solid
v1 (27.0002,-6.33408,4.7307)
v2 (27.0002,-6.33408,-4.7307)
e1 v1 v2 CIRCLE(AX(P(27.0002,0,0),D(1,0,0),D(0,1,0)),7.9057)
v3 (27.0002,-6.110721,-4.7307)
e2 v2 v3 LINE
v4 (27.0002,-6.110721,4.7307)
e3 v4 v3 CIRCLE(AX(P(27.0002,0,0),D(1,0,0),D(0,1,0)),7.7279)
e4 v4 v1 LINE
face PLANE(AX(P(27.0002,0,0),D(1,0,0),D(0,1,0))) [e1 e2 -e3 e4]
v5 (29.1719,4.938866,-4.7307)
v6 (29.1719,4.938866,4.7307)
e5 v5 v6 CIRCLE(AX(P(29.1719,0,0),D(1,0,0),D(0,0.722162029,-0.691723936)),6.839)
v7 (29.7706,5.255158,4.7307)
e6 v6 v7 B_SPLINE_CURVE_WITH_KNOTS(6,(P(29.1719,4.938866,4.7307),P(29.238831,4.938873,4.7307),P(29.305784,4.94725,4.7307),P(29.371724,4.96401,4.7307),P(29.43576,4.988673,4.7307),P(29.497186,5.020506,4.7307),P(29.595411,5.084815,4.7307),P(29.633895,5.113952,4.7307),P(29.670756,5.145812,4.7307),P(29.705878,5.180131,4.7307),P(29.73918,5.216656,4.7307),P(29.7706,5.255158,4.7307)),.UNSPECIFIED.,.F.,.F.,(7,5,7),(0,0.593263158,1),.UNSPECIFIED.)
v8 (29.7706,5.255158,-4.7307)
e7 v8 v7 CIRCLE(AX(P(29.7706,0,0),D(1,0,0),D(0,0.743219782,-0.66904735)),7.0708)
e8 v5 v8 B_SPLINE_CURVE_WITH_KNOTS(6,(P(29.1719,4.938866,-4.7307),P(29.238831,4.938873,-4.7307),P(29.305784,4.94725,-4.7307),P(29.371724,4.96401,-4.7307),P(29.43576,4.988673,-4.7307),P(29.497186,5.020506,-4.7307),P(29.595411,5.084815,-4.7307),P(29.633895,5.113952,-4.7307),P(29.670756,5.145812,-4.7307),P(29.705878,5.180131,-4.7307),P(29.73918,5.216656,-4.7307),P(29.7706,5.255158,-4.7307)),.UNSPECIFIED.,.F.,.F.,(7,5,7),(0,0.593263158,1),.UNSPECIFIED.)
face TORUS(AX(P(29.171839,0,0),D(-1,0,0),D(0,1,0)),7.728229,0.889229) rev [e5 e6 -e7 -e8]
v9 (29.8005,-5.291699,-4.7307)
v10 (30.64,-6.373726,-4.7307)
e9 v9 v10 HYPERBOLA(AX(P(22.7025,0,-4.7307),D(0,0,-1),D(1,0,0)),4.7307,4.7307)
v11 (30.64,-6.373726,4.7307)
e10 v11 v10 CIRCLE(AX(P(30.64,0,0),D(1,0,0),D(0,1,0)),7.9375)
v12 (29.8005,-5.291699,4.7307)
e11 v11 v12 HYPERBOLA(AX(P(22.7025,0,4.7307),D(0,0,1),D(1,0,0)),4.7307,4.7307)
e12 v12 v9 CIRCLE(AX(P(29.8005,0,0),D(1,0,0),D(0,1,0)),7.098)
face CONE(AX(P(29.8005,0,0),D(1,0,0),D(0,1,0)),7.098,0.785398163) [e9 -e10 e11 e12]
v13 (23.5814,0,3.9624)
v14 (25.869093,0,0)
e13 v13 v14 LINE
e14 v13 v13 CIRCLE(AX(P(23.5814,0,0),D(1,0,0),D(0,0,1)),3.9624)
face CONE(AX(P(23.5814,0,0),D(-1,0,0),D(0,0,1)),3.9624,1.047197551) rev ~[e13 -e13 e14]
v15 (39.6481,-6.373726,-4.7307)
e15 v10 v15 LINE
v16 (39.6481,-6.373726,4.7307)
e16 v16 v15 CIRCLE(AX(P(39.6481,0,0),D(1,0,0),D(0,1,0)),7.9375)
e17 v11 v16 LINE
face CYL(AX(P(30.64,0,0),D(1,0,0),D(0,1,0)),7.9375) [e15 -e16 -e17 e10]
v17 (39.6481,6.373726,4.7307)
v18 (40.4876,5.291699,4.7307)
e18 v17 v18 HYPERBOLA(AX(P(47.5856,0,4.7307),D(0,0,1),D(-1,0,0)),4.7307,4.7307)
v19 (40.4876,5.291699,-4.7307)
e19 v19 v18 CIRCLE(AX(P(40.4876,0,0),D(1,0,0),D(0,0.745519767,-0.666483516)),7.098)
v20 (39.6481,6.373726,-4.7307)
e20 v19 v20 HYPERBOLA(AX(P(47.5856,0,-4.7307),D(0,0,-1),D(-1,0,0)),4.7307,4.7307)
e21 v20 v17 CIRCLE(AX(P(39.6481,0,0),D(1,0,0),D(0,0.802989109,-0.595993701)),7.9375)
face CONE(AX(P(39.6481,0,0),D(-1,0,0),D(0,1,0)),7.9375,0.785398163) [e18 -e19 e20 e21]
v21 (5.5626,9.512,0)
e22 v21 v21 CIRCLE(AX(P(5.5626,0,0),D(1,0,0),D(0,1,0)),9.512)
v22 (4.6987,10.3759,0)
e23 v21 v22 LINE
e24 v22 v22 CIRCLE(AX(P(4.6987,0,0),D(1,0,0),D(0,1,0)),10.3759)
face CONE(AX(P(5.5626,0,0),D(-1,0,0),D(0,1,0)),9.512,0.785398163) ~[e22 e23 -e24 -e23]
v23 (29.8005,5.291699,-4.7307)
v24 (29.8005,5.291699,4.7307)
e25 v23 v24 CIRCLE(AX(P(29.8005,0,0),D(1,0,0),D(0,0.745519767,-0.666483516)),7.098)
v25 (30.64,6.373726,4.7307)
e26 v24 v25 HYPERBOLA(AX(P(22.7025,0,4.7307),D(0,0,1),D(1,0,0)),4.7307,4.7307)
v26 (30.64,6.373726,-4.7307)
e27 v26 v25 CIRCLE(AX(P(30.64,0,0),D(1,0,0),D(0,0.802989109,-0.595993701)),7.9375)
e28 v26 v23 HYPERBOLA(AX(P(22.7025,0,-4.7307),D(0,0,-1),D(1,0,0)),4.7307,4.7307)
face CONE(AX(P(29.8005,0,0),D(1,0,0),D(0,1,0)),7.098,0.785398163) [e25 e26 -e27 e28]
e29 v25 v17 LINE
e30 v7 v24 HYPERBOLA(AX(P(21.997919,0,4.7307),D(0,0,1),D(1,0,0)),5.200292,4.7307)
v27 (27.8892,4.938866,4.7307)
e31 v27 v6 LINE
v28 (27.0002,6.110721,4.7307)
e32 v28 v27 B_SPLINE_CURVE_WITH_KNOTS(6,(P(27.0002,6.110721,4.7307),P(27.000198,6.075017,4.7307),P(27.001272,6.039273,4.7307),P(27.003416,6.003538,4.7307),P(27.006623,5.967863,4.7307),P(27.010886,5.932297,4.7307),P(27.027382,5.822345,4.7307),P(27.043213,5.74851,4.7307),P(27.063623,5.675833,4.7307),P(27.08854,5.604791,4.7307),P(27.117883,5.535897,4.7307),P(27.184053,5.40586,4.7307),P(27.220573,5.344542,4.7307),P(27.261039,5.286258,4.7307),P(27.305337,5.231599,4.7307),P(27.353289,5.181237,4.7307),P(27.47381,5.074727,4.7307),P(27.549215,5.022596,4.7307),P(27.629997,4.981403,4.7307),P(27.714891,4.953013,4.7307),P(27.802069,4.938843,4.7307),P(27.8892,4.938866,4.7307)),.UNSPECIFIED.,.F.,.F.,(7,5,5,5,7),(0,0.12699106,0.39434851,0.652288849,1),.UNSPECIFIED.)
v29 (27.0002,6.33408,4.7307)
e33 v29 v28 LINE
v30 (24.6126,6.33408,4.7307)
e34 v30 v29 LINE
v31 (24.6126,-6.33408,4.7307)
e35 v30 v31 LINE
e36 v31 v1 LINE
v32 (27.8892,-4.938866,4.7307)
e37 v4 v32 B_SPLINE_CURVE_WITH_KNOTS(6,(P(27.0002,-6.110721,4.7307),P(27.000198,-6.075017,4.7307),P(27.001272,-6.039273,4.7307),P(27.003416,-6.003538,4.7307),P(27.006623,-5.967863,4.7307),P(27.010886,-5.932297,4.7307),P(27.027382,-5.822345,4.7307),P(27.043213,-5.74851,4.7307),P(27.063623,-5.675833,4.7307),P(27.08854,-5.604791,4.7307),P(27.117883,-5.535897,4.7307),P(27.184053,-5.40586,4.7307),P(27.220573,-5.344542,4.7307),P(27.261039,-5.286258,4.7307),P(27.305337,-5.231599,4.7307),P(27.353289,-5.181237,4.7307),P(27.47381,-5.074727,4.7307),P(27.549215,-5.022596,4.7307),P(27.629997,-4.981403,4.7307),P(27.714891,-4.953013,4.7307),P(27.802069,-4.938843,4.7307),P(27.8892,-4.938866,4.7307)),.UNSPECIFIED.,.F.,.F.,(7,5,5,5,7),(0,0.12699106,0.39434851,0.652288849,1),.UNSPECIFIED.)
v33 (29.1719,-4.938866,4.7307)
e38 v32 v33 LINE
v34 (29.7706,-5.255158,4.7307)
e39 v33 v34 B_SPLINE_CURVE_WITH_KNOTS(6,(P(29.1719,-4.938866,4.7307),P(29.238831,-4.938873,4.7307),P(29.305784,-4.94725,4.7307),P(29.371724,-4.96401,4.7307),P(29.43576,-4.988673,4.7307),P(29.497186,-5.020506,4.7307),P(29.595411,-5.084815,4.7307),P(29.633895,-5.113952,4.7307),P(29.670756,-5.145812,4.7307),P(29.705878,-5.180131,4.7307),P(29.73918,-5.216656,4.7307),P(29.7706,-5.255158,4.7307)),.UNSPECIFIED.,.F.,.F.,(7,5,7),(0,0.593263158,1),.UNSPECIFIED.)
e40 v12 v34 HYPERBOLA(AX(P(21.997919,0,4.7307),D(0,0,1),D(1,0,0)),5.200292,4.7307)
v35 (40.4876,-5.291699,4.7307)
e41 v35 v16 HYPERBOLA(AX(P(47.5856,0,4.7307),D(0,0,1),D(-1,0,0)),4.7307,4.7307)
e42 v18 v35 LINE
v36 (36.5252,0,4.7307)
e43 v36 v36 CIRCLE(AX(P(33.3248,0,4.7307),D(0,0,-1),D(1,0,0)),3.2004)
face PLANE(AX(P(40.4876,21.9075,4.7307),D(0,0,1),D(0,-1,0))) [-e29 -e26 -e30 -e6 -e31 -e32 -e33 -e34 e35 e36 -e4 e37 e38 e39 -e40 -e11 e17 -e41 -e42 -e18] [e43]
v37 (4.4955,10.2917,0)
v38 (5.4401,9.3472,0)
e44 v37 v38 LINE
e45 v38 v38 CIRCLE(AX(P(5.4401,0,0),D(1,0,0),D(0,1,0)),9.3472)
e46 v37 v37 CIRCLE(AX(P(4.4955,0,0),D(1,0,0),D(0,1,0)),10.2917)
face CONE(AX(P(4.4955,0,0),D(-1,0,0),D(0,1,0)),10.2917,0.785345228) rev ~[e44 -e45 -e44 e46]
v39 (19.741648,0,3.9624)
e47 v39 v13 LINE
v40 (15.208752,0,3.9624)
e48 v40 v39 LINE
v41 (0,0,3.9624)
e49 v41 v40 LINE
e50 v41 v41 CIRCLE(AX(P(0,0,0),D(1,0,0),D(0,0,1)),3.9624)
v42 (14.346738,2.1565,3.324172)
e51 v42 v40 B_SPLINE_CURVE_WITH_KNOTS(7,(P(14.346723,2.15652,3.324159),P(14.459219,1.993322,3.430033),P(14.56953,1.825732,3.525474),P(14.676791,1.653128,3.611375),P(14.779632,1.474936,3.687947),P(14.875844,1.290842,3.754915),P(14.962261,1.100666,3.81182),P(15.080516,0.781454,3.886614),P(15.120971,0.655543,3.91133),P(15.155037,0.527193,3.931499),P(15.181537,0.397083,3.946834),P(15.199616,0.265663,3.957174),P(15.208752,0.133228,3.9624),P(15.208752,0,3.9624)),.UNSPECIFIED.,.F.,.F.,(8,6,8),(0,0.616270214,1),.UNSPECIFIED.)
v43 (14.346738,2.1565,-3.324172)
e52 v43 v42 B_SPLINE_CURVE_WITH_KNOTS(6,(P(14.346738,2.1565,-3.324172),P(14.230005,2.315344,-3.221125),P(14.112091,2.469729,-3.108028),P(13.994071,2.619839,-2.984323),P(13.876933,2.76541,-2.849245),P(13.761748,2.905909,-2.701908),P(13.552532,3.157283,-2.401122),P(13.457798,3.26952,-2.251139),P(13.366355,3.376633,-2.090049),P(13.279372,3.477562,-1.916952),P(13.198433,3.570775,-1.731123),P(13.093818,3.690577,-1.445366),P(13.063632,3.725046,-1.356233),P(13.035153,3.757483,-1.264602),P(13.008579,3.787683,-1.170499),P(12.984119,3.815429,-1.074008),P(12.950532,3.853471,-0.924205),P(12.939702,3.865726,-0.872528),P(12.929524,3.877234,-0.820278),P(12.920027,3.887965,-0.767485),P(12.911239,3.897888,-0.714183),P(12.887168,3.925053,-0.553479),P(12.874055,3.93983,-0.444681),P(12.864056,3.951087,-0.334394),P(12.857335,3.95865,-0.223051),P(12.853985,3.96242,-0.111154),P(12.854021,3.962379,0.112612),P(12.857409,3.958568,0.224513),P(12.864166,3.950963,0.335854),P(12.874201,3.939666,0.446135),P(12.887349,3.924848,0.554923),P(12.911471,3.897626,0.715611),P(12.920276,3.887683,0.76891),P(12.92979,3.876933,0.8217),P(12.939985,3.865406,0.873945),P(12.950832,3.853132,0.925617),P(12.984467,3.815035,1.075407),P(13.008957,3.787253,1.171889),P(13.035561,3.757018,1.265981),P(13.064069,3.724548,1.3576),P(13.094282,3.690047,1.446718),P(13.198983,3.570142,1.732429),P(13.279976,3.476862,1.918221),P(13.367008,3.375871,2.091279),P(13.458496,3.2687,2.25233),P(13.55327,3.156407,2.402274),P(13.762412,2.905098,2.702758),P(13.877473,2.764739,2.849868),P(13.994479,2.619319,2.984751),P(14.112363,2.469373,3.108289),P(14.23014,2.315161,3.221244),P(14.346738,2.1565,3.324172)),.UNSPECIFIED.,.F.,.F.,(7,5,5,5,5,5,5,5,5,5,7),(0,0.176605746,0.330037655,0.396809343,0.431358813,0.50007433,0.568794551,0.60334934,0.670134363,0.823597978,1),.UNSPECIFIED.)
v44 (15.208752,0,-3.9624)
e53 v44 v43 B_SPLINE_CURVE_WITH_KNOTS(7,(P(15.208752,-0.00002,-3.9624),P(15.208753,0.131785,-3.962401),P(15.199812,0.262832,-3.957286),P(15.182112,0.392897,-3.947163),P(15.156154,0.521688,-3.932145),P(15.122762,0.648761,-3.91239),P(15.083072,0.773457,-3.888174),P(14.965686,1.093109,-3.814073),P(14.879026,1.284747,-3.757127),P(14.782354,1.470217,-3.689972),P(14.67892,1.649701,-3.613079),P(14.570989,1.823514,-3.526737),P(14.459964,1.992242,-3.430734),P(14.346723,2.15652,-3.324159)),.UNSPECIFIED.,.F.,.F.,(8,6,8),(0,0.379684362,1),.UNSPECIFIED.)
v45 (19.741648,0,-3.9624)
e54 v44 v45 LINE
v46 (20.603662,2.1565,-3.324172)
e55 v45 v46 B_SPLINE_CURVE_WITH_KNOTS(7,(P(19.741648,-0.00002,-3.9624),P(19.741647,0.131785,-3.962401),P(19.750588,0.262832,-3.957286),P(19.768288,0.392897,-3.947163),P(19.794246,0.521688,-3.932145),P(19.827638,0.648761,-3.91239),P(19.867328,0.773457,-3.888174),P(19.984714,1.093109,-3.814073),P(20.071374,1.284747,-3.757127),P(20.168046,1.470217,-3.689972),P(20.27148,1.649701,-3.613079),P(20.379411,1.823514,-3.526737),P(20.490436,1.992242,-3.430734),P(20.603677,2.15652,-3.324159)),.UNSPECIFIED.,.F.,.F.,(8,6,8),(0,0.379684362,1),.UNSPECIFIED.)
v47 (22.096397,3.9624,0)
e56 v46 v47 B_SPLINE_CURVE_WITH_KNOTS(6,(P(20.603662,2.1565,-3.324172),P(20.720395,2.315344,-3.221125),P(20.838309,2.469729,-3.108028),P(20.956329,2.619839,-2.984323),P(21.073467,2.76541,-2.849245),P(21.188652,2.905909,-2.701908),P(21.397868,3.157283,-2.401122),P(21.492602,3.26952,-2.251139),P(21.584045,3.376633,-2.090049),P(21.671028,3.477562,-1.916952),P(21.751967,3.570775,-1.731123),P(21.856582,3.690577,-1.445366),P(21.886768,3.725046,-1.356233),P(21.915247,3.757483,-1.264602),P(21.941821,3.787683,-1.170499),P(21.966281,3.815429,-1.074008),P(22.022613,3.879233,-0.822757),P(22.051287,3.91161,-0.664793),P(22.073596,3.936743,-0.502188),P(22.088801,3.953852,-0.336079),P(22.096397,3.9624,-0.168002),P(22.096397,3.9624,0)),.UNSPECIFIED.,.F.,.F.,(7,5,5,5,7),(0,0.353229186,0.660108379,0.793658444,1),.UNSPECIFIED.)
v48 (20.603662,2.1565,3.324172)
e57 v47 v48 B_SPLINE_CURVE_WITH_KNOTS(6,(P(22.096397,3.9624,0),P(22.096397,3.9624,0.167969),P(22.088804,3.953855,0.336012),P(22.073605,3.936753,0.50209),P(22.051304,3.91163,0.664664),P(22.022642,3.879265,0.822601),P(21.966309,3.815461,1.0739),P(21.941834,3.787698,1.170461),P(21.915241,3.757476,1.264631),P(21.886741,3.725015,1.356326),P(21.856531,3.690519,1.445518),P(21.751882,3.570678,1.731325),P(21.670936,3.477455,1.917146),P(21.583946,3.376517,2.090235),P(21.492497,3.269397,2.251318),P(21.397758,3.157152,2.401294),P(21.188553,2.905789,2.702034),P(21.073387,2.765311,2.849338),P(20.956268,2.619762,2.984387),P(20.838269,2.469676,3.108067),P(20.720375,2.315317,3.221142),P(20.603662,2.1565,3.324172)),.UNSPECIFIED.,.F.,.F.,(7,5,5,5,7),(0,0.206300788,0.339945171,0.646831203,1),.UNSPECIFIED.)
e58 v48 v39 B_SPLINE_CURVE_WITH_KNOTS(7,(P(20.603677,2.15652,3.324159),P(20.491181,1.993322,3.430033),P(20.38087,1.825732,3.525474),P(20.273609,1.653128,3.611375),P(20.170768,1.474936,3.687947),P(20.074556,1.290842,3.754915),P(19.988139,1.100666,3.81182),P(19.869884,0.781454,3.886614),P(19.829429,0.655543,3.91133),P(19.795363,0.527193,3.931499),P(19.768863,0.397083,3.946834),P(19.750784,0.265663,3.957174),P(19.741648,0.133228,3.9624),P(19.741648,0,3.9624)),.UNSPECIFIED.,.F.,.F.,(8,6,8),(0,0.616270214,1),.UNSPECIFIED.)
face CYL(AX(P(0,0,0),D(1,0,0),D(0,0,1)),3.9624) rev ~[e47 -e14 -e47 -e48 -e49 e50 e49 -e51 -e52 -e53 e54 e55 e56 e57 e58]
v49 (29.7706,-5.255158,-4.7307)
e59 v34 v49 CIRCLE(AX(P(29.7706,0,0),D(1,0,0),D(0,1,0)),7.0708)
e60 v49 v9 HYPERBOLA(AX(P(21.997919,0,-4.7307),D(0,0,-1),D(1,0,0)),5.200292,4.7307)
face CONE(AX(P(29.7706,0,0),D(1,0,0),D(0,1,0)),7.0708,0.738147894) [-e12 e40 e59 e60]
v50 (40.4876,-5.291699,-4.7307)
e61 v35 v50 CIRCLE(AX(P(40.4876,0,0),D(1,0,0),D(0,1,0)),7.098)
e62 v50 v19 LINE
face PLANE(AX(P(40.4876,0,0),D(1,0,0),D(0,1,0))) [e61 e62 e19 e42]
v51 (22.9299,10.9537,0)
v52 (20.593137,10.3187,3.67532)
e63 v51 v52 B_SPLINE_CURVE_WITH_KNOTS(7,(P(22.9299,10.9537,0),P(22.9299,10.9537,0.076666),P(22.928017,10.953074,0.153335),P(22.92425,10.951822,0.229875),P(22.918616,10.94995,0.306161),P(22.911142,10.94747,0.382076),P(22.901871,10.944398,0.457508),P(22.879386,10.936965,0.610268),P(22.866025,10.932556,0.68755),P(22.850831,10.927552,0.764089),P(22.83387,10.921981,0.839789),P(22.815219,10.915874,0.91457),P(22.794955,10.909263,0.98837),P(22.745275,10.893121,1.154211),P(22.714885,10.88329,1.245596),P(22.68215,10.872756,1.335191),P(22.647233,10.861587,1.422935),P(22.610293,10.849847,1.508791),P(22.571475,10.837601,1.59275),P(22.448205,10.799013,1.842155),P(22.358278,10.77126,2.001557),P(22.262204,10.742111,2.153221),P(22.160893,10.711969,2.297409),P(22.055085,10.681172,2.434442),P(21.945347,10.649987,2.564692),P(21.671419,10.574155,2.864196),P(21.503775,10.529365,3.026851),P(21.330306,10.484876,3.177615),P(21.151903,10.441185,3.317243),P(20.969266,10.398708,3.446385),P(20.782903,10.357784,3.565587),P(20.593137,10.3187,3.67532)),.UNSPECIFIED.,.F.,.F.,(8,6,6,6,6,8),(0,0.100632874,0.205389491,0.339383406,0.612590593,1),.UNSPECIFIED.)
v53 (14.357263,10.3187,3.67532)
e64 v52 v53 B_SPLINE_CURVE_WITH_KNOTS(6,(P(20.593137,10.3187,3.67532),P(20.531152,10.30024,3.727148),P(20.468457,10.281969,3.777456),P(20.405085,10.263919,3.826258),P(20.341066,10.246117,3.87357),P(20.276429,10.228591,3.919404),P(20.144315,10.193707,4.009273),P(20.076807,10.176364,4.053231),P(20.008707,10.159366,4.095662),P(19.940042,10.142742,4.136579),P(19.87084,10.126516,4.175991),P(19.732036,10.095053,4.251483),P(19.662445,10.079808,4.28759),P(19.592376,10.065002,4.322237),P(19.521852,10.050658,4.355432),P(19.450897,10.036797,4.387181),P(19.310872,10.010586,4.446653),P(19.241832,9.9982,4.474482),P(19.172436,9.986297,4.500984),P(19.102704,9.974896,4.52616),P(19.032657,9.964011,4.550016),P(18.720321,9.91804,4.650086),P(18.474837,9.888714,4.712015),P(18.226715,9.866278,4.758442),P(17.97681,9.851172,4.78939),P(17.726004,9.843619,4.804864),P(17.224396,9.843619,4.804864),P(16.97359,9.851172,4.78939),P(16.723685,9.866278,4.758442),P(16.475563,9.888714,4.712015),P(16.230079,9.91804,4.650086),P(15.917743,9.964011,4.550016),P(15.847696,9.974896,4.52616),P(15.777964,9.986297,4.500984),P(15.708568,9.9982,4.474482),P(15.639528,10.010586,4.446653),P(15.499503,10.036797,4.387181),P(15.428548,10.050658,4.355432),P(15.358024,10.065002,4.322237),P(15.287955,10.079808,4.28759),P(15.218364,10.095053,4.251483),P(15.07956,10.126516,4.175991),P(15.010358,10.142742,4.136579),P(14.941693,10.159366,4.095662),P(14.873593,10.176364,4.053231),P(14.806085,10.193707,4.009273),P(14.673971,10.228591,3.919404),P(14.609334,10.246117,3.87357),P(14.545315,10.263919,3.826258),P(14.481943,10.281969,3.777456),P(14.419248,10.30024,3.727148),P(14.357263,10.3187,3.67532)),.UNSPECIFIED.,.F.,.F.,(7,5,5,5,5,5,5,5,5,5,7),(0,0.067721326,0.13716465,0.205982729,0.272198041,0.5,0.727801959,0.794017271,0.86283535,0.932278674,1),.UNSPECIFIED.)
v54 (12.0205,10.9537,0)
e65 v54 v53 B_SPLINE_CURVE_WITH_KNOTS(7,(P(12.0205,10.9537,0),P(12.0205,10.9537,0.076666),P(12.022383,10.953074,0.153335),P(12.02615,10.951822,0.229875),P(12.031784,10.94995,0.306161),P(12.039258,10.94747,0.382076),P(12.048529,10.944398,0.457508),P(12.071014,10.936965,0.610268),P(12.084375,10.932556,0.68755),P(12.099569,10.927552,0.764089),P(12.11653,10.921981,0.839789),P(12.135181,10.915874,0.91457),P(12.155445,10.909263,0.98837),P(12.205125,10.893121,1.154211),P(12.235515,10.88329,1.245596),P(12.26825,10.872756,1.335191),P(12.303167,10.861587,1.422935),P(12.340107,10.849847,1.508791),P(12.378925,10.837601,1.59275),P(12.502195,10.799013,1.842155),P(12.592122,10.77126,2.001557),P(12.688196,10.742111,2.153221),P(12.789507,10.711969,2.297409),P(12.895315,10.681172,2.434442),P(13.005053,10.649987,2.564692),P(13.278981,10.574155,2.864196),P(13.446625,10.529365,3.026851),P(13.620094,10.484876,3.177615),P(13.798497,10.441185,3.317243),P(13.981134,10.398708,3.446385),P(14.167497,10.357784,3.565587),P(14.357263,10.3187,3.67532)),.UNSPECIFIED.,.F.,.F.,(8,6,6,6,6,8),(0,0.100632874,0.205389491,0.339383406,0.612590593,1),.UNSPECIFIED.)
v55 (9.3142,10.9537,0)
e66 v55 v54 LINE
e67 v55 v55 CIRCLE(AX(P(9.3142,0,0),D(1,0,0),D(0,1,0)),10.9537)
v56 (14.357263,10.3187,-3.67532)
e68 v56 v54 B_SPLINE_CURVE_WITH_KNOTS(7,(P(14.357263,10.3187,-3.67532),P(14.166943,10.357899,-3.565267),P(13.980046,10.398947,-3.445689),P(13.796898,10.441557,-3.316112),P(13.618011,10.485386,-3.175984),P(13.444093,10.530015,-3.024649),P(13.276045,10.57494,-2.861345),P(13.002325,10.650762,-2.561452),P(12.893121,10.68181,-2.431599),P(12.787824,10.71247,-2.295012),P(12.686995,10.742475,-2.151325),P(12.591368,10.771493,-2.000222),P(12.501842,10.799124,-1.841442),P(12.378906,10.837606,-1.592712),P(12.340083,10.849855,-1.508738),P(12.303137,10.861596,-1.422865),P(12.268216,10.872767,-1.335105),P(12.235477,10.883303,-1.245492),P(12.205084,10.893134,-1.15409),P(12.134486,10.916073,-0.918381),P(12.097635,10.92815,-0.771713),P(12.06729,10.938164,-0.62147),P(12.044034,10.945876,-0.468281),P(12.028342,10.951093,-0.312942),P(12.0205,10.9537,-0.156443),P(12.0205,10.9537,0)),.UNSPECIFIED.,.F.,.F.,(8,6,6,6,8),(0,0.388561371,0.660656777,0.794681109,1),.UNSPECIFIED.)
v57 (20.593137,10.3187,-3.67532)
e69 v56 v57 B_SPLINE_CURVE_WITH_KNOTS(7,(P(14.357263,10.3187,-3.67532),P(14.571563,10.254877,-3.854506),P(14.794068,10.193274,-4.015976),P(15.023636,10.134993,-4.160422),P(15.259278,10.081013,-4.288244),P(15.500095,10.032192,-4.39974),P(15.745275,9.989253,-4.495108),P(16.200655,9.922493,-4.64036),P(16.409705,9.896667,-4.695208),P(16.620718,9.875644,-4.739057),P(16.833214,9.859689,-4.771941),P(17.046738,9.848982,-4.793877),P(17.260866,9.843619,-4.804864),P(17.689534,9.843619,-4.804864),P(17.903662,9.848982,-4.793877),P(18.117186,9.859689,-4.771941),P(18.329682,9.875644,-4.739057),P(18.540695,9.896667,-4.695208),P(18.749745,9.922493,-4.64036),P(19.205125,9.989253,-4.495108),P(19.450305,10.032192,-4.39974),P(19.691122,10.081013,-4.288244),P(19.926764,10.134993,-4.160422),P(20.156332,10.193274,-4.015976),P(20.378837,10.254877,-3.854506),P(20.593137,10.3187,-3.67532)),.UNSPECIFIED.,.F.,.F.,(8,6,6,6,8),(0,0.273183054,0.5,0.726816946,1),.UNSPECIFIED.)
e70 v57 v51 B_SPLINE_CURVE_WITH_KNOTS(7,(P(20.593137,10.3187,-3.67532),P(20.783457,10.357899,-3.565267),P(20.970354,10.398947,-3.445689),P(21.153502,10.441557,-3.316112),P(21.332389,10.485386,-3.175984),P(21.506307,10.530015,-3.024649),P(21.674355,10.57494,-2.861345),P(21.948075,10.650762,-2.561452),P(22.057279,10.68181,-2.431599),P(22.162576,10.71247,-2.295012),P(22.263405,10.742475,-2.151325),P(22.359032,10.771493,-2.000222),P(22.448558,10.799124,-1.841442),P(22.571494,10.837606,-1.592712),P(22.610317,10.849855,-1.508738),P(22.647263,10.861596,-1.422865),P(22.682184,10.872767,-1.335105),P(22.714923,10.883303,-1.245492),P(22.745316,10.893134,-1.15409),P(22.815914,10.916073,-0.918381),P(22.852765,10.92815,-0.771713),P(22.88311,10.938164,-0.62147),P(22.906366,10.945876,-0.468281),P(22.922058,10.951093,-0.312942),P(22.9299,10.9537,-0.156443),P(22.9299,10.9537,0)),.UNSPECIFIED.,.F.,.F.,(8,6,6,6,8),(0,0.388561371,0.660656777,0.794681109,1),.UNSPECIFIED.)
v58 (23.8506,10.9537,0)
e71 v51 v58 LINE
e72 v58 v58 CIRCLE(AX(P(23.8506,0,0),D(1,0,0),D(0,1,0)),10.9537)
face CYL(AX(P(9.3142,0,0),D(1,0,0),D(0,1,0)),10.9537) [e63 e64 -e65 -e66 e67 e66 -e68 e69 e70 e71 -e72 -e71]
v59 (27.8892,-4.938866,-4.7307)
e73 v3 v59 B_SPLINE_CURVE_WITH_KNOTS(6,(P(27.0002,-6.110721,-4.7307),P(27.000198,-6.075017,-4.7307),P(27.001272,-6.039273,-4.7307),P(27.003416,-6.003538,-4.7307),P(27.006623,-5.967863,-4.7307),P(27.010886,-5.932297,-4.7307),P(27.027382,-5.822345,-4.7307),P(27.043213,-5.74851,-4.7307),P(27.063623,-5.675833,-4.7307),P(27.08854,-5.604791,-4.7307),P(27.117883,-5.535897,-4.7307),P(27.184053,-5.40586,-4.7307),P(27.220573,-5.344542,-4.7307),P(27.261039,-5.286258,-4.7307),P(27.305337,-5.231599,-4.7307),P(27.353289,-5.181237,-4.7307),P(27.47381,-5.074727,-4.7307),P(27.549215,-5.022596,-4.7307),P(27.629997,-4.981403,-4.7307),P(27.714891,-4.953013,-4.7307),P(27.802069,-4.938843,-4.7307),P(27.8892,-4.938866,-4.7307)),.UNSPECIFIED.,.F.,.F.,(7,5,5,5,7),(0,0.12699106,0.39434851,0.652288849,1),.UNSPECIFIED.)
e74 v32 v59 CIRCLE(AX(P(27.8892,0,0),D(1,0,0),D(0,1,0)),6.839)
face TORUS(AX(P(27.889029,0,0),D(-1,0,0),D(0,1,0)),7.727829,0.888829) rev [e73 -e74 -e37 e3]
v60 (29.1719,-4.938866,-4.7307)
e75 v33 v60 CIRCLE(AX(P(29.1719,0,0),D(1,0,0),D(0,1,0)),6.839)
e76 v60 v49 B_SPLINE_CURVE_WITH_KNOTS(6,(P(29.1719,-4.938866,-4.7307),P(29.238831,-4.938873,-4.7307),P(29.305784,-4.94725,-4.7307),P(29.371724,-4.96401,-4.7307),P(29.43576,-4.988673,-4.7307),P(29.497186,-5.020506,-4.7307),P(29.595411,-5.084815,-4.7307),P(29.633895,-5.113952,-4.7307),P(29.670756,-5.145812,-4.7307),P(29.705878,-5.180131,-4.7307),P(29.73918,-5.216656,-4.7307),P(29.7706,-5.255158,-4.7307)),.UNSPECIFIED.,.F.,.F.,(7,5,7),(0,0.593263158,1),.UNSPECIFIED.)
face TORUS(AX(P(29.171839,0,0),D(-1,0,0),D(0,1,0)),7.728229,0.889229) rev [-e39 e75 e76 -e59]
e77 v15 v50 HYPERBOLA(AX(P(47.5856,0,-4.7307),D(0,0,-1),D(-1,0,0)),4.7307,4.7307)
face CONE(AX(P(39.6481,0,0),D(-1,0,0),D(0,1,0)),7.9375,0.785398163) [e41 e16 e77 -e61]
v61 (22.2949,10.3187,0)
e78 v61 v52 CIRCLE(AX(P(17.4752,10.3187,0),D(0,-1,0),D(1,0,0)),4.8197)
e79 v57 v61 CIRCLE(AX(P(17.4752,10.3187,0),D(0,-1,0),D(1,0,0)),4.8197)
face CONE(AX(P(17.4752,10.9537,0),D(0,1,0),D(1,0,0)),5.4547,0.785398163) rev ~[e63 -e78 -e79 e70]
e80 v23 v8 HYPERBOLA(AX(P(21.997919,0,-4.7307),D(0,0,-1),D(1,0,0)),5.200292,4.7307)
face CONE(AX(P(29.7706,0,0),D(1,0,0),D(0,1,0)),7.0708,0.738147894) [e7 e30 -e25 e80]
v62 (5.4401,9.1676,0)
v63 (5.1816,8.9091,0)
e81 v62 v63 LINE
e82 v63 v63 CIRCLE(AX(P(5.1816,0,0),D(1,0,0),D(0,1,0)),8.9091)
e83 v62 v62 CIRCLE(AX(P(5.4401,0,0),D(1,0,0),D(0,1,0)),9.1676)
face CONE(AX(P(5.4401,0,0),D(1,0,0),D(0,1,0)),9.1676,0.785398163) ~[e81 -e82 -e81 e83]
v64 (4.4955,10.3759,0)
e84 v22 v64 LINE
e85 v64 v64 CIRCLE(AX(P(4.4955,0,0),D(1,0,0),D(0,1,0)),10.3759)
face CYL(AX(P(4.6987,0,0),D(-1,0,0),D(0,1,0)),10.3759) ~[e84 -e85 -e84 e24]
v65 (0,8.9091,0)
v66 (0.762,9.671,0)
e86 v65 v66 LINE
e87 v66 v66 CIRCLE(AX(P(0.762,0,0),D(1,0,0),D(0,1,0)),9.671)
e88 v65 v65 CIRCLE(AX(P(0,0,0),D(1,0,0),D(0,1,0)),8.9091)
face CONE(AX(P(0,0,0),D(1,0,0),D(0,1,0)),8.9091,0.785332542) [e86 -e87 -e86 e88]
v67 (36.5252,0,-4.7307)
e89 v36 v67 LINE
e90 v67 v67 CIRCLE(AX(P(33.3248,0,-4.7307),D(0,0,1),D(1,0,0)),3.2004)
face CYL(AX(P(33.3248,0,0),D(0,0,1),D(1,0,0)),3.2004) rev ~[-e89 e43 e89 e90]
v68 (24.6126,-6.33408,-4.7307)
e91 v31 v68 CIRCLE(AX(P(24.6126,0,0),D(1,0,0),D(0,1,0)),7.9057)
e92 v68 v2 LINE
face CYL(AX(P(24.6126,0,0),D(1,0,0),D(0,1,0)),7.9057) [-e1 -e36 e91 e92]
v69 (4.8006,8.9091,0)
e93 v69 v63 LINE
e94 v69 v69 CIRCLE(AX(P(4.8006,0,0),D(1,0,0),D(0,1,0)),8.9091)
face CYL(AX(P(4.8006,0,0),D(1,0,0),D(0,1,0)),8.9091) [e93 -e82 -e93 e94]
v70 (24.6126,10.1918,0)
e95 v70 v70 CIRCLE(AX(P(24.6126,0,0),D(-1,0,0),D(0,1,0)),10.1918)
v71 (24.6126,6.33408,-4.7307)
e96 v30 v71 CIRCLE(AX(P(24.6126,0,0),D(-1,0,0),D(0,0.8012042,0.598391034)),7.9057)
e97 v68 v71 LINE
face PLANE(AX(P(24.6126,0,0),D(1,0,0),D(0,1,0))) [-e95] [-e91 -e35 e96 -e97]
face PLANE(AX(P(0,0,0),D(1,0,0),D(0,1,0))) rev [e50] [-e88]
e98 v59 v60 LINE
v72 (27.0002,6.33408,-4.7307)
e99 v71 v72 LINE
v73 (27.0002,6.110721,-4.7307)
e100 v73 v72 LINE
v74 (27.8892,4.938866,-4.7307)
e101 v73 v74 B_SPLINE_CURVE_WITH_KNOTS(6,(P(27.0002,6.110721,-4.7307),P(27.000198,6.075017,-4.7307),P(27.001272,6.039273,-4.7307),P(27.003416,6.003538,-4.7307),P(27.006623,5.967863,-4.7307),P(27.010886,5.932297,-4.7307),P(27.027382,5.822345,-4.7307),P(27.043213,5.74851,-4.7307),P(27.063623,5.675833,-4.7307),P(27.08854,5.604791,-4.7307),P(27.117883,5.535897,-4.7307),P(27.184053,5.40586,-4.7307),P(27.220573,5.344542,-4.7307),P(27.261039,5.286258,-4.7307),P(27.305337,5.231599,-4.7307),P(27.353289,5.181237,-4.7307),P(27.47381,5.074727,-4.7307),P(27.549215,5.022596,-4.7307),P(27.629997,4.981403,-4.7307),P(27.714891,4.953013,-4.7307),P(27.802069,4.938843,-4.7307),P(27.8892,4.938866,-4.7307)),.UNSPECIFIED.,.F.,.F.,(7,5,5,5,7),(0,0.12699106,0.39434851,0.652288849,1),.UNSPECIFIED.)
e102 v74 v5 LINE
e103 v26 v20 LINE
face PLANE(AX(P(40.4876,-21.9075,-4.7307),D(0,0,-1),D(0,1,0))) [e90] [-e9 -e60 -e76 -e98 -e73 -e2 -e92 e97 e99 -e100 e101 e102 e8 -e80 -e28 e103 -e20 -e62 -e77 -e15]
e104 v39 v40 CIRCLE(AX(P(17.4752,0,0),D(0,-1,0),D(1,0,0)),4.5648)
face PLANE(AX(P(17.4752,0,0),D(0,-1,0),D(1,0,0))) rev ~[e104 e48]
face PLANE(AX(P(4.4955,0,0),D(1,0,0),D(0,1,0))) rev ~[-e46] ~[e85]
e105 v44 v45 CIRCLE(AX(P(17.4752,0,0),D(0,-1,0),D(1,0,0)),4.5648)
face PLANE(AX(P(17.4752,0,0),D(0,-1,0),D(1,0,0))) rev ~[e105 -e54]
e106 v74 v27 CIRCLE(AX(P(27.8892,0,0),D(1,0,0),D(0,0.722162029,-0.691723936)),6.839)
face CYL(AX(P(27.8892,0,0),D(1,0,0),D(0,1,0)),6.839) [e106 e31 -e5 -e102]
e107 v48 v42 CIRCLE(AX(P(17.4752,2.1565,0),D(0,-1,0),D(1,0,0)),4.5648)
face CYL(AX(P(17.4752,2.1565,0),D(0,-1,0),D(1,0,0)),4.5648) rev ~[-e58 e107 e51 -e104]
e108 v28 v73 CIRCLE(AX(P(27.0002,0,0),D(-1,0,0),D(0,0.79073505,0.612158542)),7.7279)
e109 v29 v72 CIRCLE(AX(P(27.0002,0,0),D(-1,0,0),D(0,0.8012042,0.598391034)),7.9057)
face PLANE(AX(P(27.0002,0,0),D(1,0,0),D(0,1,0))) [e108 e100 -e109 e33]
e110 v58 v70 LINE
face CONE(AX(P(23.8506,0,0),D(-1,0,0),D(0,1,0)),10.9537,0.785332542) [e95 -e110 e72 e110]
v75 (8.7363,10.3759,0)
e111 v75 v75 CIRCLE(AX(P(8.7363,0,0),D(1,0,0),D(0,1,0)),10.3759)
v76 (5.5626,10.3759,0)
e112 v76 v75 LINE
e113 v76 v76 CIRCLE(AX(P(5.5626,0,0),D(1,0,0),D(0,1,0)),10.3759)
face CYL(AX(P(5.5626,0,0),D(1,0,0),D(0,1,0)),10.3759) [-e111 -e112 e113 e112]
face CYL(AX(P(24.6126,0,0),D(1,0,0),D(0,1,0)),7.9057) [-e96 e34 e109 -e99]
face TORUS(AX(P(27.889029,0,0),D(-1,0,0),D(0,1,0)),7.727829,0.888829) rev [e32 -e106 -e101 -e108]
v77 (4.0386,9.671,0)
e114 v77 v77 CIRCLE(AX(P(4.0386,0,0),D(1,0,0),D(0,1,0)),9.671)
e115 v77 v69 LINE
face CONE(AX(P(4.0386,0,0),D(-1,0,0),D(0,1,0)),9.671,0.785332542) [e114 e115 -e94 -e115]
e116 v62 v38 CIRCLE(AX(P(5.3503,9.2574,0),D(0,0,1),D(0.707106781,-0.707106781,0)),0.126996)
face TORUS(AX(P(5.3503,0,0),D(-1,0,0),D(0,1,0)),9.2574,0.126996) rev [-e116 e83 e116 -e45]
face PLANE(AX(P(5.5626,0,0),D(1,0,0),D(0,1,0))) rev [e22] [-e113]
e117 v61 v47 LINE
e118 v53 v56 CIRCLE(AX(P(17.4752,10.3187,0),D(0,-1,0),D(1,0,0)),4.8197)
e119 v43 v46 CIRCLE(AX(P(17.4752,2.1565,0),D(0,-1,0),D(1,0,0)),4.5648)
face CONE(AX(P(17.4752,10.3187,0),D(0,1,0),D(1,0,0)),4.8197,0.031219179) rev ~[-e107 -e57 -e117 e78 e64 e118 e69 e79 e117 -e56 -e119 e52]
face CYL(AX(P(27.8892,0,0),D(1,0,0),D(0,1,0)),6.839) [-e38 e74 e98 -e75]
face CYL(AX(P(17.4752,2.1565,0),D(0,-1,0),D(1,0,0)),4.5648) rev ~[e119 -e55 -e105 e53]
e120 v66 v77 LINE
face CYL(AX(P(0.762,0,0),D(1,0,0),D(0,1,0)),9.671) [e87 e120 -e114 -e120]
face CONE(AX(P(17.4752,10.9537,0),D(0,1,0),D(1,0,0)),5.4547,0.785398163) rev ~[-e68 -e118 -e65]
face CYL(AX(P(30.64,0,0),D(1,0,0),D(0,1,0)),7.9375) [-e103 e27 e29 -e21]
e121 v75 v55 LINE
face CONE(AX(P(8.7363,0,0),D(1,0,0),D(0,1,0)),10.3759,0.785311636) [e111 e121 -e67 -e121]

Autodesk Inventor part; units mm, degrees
sketch "Sketch_8" plane through (0, 0, 0) normal (0, 0, 1) x (1, 0, 0)
  line L0 (24.6126, 0) -> (0, 0)
  line L1 (0, 0) -> (0, 8.9091)
  line L2 (0, 8.9091) -> (0.762, 9.671)
  line L3 (0.762, 9.671) -> (4.0386, 9.671)
  line L4 (4.0386, 9.671) -> (4.8006, 8.9091)
  line L5 (4.8006, 8.9091) -> (5.5626, 8.9091)
  line L6 (5.5626, 8.9091) -> (5.5626, 10.3759)
  line L7 (5.5626, 10.3759) -> (8.7363, 10.3759)
  line L8 (8.7363, 10.3759) -> (9.3142, 10.9537)
  line L9 (9.3142, 10.9537) -> (23.8506, 10.9537)
  line L10 (23.8506, 10.9537) -> (24.6126, 10.1918)
  line L11 (24.6126, 10.1918) -> (24.6126, 0)
  line L12 (24.6126, 0) -> (0, 0)
revolve "Revolution1" add sketch "Sketch_8" angle 360 about axis through (24.6126, 0, 0) along (1, 0, 0)
sketch "Sketch_15" plane through (0, 0, 0) normal (0, 0, 1) x (1, 0, 0)
  line L0 (40.4876, 0) -> (24.6126, 0)
  line L1 (24.6126, 0) -> (24.6126, 7.9057)
  line L2 (24.6126, 7.9057) -> (27.0002, 7.9057)
  line L3 (27.0002, 7.9057) -> (27.0002, 7.7279)
  arc A0 (27.0002, 7.7279) -> (27.8892, 6.839) centre (27.8892, 7.7279) ccw
  line L4 (27.8892, 6.839) -> (29.1719, 6.839)
  arc A1 (29.1719, 6.839) -> (29.7706, 7.0708) centre (29.1719, 7.7279) ccw
  line L5 (29.7706, 7.0708) -> (29.8005, 7.098)
  line L6 (29.8005, 7.098) -> (30.64, 7.9375)
  line L7 (30.64, 7.9375) -> (39.6481, 7.9375)
  line L8 (39.6481, 7.9375) -> (40.4876, 7.098)
  line L9 (40.4876, 7.098) -> (40.4876, 0)
  line L10 (40.4876, 0) -> (24.6126, 0)
revolve "Revolution2" add sketch "Sketch_15" angle 360 about axis through (40.4876, 0, 0) along (1, 0, 0)
thread "Thread1" size "5/8-18 UNF" class "2A" standard "ANSI Unified Screw Threads" full length
sketch "Sketch_9" plane through (40.4876, 0, 0) normal (1, 0, 0) x (0, 0, -1)
  line L0 (-21.9075, -43.815) -> (21.9075, -43.815)
  line L1 (21.9075, -43.815) -> (21.9075, 43.815)
  line L2 (21.9075, 43.815) -> (-21.9075, 43.815)
  line L3 (-21.9075, 43.815) -> (-21.9075, -43.815)
  line L4 (-4.7307, -21.9075) -> (4.7307, -21.9075)
  line L5 (4.7307, -21.9075) -> (4.7307, 21.9075)
  line L6 (4.7307, 21.9075) -> (-4.7307, 21.9075)
  line L7 (-4.7307, 21.9075) -> (-4.7307, -21.9075)
extrude "Extrusion1" cut sketch "Sketch_9" against normal blind 15.875
sketch "Sketch4" plane through (0, 0, 0) normal (-1, 0, 0) x (0, 0, 1)
  point P0 (0, 0)
hole "Hole1" at (0, 0, 0) direction (1, 0, 0) diameter 7.9248 depth 23.5814 tip angle 120
sketch "Sketch_47" plane through (0, 0, 0) normal (0, 0, 1) x (1, 0, 0)
  line L0 (17.4752, 0) -> (17.4752, 10.9537)
  line L1 (17.4752, 10.9537) -> (22.9299, 10.9537)
  line L2 (22.9299, 10.9537) -> (22.2949, 10.3187)
  line L3 (22.2949, 10.3187) -> (22.04, 2.1565)
  line L4 (22.04, 2.1565) -> (22.04, 0)
  line L5 (22.04, 0) -> (17.4752, 0)
  line L6 (17.4752, 0) -> (17.4752, 10.9537)
revolve "Revolution3" cut sketch "Sketch_47" angle 360 about axis through (17.4752, 0, 0) along (0, -1, 0)
thread "Thread2" size "1/8" designation "1/8 - 27 NPT" standard "NPT" length 7.0392
sketch "Sketch_24" plane through (0, 0, 0) normal (0, 0, 1) x (1, 0, 0)
  line L0 (5.5626, 0) -> (4.8006, 0)
  line L1 (4.4955, 10.3759) -> (4.4955, 10.2917)
  line L2 (4.4955, 10.2917) -> (5.4401, 9.3472)
  arc A0 (5.4401, 9.1676) -> (5.4401, 9.3472) centre (5.3503, 9.2574) ccw
  line L3 (5.4401, 9.1676) -> (5.1816, 8.9091)
  line L4 (5.1816, 8.9091) -> (4.8006, 8.9091)
  line L5 (4.8006, 8.9091) -> (4.8006, 8.655)
  line L6 (4.8006, 8.655) -> (5.5626, 8.655)
  line L7 (5.5626, 8.655) -> (5.5626, 9.512)
  line L8 (5.5626, 9.512) -> (4.6987, 10.3759)
  line L9 (4.6987, 10.3759) -> (4.4955, 10.3759)
revolve "Revolution4" add sketch "Sketch_24" angle 360 about axis through (5.5626, 0, 0) along (1, 0, 0)
sketch "Sketch_43" plane through (0, 0, 0) normal (0, 0, 1) x (1, 0, 0)
  circle A0 centre (33.3248, 0) radius 3.2004
extrude "Extrusion2" cut sketch "Sketch_43" along normal mid plane 14.1922
ref_plane "1_XY" through (27.0002, 0, 0) normal (1, 0, 0) x (0, 0, -1)
ref_plane "1_YZ" through (27.0002, 0, 0) normal (0, 0, -1) x (0, 1, 0)
ref_plane "1_ZX" through (27.0002, 0, 0) normal (0, 1, 0) x (1, 0, 0)
ref_plane "c1_XY" through (24.6126, 7.9057, 0) normal (0, 0, 1) x (1, 0, 0)
ref_plane "c1_YZ" through (24.6126, 7.9057, 0) normal (1, 0, 0) x (0, 1, 0)
ref_plane "c1_ZX" through (24.6126, 7.9057, 0) normal (0, 1, 0) x (0, 0, 1)
ref_plane "c2_XY" through (24.6126, -7.9057, 0) normal (0, 0, 1) x (1, 0, 0)
ref_plane "c2_YZ" through (24.6126, -7.9057, 0) normal (1, 0, 0) x (0, 1, 0)
ref_plane "c2_ZX" through (24.6126, -7.9057, 0) normal (0, 1, 0) x (0, 0, 1)
ref_plane "cc1_XY" through (24.6126, 0, 0) normal (0, 0, 1) x (1, 0, 0)
ref_plane "cc1_YZ" through (24.6126, 0, 0) normal (1, 0, 0) x (0, 1, 0)
ref_plane "cc1_ZX" through (24.6126, 0, 0) normal (0, 1, 0) x (0, 0, 1)
ref_plane "cc2_XY" through (27.0002, 0, 0) normal (0, 0, 1) x (1, 0, 0)
ref_plane "cc2_YZ" through (27.0002, 0, 0) normal (1, 0, 0) x (0, 1, 0)
ref_plane "cc2_ZX" through (27.0002, 0, 0) normal (0, 1, 0) x (0, 0, 1)
ref_plane "lovra1_XY" through (35.7124, 0, 0) normal (1, 0, 0) x (0, 0, -1)
ref_plane "lovra1_YZ" through (35.7124, 0, 0) normal (0, 0, -1) x (0, 1, 0)
ref_plane "lovra1_ZX" through (35.7124, 0, 0) normal (0, 1, 0) x (1, 0, 0)
ref_plane "lovra2_XY" through (35.7124, 7.874, 0) normal (1, 0, 0) x (0, 0, -1)
ref_plane "lovra2_YZ" through (35.7124, 7.874, 0) normal (0, 0, -1) x (0, 1, 0)
ref_plane "lovra2_ZX" through (35.7124, 7.874, 0) normal (0, 1, 0) x (1, 0, 0)
ref_plane "lovra21_XY" through (0, 0, 5.2705) normal (1, 0, 0) x (0, 0, -1)
ref_plane "lovra21_YZ" through (0, 0, 5.2705) normal (0, 0, -1) x (0, 1, 0)
ref_plane "lovra21_ZX" through (0, 0, 5.2705) normal (0, 1, 0) x (1, 0, 0)
ref_plane "lovra22_XY" through (0, 0, -5.2705) normal (1, 0, 0) x (0, 0, -1)
ref_plane "lovra22_YZ" through (0, 0, -5.2705) normal (0, 0, -1) x (0, 1, 0)
ref_plane "lovra22_ZX" through (0, 0, -5.2705) normal (0, 1, 0) x (1, 0, 0)
ref_plane "lovra3_XY" through (35.7124, -7.874, 0) normal (1, 0, 0) x (0, 0, -1)
ref_plane "lovra3_YZ" through (35.7124, -7.874, 0) normal (0, 0, -1) x (0, 1, 0)
ref_plane "lovra3_ZX" through (35.7124, -7.874, 0) normal (0, 1, 0) x (1, 0, 0)
ref_plane "olen_XY" through (33.3248, 0, 0) normal (1, 0, 0) x (0, 0, -1)
ref_plane "olen_YZ" through (33.3248, 0, 0) normal (0, 0, -1) x (0, 1, 0)
ref_plane "olen_ZX" through (33.3248, 0, 0) normal (0, 1, 0) x (1, 0, 0)
ref_plane "p1_XY" through (40.4876, 0, 4.7307) normal (1, 0, 0) x (0, 0, -1)
ref_plane "p1_YZ" through (40.4876, 0, 4.7307) normal (0, 0, -1) x (0, 1, 0)
ref_plane "p1_ZX" through (40.4876, 0, 4.7307) normal (0, 1, 0) x (1, 0, 0)
ref_plane "p2_XY" through (40.4876, 0, -4.7307) normal (1, 0, 0) x (0, 0, -1)
ref_plane "p2_YZ" through (40.4876, 0, -4.7307) normal (0, 0, -1) x (0, 1, 0)
ref_plane "p2_ZX" through (40.4876, 0, -4.7307) normal (0, 1, 0) x (1, 0, 0)
ref_plane "port_XY" through (17.4752, 10.9537, 0) normal (0, 0, 1) x (1, 0, 0)
ref_plane "port_YZ" through (17.4752, 10.9537, 0) normal (1, 0, 0) x (0, 1, 0)
ref_plane "port_ZX" through (17.4752, 10.9537, 0) normal (0, 1, 0) x (0, 0, 1)
ref_plane "port2_XY" through (40.4876, 0, 0) normal (1, 0, 0) x (0, 0, -1)
ref_plane "port2_YZ" through (40.4876, 0, 0) normal (0, 0, -1) x (0, 1, 0)
ref_plane "port2_ZX" through (40.4876, 0, 0) normal (0, 1, 0) x (1, 0, 0)
ref_plane "thd1_XY" through (40.4876, 0, 7.9375) normal (1, 0, 0) x (0, 0, -1)
ref_plane "thd1_YZ" through (40.4876, 0, 7.9375) normal (0, 0, -1) x (0, 1, 0)
ref_plane "thd1_ZX" through (40.4876, 0, 7.9375) normal (0, 1, 0) x (1, 0, 0)
ref_plane "thd2_XY" through (40.4876, 0, -7.9375) normal (1, 0, 0) x (0, 0, -1)
ref_plane "thd2_YZ" through (40.4876, 0, -7.9375) normal (0, 0, -1) x (0, 1, 0)
ref_plane "thd2_ZX" through (40.4876, 0, -7.9375) normal (0, 1, 0) x (1, 0, 0)
ref_plane "to_mounting_bracket_XY" through (24.6126, 0, 0) normal (1, 0, 0) x (0, 0, -1)
ref_plane "to_mounting_bracket_YZ" through (24.6126, 0, 0) normal (0, 0, -1) x (0, 1, 0)
ref_plane "to_mounting_bracket_ZX" through (24.6126, 0, 0) normal (0, 1, 0) x (1, 0, 0)
ref_plane "to_nut_XY" through (27.0002, 0, 0) normal (1, 0, 0) x (0, 0, -1)
ref_plane "to_nut_YZ" through (27.0002, 0, 0) normal (0, 0, -1) x (0, 1, 0)
ref_plane "to_nut_ZX" through (27.0002, 0, 0) normal (0, 1, 0) x (1, 0, 0)
ref_plane "to_pin_XY" through (33.3248, 0, 0) normal (0, 0, 1) x (1, 0, 0)
ref_plane "to_pin_YZ" through (33.3248, 0, 0) normal (1, 0, 0) x (0, 1, 0)
ref_plane "to_pin_ZX" through (33.3248, 0, 0) normal (0, 1, 0) x (0, 0, 1)
ref_plane "to_screw_XY" through (17.4752, -6.0452, -2.032) normal (0, 0, -1) x (1, 0, 0)
ref_plane "to_screw_YZ" through (17.4752, -6.0452, -2.032) normal (1, 0, 0) x (0, -1, 0)
ref_plane "to_screw_ZX" through (17.4752, -6.0452, -2.032) normal (0, -1, 0) x (0, 0, -1)
ref_plane "to_tube_XY" through (4.8006, 0, 0) normal (1, 0, 0) x (0, 0, -1)
ref_plane "to_tube_YZ" through (4.8006, 0, 0) normal (0, 0, -1) x (0, 1, 0)
ref_plane "to_tube_ZX" through (4.8006, 0, 0) normal (0, 1, 0) x (1, 0, 0)
properties part number "04P0K000_rear_head"
